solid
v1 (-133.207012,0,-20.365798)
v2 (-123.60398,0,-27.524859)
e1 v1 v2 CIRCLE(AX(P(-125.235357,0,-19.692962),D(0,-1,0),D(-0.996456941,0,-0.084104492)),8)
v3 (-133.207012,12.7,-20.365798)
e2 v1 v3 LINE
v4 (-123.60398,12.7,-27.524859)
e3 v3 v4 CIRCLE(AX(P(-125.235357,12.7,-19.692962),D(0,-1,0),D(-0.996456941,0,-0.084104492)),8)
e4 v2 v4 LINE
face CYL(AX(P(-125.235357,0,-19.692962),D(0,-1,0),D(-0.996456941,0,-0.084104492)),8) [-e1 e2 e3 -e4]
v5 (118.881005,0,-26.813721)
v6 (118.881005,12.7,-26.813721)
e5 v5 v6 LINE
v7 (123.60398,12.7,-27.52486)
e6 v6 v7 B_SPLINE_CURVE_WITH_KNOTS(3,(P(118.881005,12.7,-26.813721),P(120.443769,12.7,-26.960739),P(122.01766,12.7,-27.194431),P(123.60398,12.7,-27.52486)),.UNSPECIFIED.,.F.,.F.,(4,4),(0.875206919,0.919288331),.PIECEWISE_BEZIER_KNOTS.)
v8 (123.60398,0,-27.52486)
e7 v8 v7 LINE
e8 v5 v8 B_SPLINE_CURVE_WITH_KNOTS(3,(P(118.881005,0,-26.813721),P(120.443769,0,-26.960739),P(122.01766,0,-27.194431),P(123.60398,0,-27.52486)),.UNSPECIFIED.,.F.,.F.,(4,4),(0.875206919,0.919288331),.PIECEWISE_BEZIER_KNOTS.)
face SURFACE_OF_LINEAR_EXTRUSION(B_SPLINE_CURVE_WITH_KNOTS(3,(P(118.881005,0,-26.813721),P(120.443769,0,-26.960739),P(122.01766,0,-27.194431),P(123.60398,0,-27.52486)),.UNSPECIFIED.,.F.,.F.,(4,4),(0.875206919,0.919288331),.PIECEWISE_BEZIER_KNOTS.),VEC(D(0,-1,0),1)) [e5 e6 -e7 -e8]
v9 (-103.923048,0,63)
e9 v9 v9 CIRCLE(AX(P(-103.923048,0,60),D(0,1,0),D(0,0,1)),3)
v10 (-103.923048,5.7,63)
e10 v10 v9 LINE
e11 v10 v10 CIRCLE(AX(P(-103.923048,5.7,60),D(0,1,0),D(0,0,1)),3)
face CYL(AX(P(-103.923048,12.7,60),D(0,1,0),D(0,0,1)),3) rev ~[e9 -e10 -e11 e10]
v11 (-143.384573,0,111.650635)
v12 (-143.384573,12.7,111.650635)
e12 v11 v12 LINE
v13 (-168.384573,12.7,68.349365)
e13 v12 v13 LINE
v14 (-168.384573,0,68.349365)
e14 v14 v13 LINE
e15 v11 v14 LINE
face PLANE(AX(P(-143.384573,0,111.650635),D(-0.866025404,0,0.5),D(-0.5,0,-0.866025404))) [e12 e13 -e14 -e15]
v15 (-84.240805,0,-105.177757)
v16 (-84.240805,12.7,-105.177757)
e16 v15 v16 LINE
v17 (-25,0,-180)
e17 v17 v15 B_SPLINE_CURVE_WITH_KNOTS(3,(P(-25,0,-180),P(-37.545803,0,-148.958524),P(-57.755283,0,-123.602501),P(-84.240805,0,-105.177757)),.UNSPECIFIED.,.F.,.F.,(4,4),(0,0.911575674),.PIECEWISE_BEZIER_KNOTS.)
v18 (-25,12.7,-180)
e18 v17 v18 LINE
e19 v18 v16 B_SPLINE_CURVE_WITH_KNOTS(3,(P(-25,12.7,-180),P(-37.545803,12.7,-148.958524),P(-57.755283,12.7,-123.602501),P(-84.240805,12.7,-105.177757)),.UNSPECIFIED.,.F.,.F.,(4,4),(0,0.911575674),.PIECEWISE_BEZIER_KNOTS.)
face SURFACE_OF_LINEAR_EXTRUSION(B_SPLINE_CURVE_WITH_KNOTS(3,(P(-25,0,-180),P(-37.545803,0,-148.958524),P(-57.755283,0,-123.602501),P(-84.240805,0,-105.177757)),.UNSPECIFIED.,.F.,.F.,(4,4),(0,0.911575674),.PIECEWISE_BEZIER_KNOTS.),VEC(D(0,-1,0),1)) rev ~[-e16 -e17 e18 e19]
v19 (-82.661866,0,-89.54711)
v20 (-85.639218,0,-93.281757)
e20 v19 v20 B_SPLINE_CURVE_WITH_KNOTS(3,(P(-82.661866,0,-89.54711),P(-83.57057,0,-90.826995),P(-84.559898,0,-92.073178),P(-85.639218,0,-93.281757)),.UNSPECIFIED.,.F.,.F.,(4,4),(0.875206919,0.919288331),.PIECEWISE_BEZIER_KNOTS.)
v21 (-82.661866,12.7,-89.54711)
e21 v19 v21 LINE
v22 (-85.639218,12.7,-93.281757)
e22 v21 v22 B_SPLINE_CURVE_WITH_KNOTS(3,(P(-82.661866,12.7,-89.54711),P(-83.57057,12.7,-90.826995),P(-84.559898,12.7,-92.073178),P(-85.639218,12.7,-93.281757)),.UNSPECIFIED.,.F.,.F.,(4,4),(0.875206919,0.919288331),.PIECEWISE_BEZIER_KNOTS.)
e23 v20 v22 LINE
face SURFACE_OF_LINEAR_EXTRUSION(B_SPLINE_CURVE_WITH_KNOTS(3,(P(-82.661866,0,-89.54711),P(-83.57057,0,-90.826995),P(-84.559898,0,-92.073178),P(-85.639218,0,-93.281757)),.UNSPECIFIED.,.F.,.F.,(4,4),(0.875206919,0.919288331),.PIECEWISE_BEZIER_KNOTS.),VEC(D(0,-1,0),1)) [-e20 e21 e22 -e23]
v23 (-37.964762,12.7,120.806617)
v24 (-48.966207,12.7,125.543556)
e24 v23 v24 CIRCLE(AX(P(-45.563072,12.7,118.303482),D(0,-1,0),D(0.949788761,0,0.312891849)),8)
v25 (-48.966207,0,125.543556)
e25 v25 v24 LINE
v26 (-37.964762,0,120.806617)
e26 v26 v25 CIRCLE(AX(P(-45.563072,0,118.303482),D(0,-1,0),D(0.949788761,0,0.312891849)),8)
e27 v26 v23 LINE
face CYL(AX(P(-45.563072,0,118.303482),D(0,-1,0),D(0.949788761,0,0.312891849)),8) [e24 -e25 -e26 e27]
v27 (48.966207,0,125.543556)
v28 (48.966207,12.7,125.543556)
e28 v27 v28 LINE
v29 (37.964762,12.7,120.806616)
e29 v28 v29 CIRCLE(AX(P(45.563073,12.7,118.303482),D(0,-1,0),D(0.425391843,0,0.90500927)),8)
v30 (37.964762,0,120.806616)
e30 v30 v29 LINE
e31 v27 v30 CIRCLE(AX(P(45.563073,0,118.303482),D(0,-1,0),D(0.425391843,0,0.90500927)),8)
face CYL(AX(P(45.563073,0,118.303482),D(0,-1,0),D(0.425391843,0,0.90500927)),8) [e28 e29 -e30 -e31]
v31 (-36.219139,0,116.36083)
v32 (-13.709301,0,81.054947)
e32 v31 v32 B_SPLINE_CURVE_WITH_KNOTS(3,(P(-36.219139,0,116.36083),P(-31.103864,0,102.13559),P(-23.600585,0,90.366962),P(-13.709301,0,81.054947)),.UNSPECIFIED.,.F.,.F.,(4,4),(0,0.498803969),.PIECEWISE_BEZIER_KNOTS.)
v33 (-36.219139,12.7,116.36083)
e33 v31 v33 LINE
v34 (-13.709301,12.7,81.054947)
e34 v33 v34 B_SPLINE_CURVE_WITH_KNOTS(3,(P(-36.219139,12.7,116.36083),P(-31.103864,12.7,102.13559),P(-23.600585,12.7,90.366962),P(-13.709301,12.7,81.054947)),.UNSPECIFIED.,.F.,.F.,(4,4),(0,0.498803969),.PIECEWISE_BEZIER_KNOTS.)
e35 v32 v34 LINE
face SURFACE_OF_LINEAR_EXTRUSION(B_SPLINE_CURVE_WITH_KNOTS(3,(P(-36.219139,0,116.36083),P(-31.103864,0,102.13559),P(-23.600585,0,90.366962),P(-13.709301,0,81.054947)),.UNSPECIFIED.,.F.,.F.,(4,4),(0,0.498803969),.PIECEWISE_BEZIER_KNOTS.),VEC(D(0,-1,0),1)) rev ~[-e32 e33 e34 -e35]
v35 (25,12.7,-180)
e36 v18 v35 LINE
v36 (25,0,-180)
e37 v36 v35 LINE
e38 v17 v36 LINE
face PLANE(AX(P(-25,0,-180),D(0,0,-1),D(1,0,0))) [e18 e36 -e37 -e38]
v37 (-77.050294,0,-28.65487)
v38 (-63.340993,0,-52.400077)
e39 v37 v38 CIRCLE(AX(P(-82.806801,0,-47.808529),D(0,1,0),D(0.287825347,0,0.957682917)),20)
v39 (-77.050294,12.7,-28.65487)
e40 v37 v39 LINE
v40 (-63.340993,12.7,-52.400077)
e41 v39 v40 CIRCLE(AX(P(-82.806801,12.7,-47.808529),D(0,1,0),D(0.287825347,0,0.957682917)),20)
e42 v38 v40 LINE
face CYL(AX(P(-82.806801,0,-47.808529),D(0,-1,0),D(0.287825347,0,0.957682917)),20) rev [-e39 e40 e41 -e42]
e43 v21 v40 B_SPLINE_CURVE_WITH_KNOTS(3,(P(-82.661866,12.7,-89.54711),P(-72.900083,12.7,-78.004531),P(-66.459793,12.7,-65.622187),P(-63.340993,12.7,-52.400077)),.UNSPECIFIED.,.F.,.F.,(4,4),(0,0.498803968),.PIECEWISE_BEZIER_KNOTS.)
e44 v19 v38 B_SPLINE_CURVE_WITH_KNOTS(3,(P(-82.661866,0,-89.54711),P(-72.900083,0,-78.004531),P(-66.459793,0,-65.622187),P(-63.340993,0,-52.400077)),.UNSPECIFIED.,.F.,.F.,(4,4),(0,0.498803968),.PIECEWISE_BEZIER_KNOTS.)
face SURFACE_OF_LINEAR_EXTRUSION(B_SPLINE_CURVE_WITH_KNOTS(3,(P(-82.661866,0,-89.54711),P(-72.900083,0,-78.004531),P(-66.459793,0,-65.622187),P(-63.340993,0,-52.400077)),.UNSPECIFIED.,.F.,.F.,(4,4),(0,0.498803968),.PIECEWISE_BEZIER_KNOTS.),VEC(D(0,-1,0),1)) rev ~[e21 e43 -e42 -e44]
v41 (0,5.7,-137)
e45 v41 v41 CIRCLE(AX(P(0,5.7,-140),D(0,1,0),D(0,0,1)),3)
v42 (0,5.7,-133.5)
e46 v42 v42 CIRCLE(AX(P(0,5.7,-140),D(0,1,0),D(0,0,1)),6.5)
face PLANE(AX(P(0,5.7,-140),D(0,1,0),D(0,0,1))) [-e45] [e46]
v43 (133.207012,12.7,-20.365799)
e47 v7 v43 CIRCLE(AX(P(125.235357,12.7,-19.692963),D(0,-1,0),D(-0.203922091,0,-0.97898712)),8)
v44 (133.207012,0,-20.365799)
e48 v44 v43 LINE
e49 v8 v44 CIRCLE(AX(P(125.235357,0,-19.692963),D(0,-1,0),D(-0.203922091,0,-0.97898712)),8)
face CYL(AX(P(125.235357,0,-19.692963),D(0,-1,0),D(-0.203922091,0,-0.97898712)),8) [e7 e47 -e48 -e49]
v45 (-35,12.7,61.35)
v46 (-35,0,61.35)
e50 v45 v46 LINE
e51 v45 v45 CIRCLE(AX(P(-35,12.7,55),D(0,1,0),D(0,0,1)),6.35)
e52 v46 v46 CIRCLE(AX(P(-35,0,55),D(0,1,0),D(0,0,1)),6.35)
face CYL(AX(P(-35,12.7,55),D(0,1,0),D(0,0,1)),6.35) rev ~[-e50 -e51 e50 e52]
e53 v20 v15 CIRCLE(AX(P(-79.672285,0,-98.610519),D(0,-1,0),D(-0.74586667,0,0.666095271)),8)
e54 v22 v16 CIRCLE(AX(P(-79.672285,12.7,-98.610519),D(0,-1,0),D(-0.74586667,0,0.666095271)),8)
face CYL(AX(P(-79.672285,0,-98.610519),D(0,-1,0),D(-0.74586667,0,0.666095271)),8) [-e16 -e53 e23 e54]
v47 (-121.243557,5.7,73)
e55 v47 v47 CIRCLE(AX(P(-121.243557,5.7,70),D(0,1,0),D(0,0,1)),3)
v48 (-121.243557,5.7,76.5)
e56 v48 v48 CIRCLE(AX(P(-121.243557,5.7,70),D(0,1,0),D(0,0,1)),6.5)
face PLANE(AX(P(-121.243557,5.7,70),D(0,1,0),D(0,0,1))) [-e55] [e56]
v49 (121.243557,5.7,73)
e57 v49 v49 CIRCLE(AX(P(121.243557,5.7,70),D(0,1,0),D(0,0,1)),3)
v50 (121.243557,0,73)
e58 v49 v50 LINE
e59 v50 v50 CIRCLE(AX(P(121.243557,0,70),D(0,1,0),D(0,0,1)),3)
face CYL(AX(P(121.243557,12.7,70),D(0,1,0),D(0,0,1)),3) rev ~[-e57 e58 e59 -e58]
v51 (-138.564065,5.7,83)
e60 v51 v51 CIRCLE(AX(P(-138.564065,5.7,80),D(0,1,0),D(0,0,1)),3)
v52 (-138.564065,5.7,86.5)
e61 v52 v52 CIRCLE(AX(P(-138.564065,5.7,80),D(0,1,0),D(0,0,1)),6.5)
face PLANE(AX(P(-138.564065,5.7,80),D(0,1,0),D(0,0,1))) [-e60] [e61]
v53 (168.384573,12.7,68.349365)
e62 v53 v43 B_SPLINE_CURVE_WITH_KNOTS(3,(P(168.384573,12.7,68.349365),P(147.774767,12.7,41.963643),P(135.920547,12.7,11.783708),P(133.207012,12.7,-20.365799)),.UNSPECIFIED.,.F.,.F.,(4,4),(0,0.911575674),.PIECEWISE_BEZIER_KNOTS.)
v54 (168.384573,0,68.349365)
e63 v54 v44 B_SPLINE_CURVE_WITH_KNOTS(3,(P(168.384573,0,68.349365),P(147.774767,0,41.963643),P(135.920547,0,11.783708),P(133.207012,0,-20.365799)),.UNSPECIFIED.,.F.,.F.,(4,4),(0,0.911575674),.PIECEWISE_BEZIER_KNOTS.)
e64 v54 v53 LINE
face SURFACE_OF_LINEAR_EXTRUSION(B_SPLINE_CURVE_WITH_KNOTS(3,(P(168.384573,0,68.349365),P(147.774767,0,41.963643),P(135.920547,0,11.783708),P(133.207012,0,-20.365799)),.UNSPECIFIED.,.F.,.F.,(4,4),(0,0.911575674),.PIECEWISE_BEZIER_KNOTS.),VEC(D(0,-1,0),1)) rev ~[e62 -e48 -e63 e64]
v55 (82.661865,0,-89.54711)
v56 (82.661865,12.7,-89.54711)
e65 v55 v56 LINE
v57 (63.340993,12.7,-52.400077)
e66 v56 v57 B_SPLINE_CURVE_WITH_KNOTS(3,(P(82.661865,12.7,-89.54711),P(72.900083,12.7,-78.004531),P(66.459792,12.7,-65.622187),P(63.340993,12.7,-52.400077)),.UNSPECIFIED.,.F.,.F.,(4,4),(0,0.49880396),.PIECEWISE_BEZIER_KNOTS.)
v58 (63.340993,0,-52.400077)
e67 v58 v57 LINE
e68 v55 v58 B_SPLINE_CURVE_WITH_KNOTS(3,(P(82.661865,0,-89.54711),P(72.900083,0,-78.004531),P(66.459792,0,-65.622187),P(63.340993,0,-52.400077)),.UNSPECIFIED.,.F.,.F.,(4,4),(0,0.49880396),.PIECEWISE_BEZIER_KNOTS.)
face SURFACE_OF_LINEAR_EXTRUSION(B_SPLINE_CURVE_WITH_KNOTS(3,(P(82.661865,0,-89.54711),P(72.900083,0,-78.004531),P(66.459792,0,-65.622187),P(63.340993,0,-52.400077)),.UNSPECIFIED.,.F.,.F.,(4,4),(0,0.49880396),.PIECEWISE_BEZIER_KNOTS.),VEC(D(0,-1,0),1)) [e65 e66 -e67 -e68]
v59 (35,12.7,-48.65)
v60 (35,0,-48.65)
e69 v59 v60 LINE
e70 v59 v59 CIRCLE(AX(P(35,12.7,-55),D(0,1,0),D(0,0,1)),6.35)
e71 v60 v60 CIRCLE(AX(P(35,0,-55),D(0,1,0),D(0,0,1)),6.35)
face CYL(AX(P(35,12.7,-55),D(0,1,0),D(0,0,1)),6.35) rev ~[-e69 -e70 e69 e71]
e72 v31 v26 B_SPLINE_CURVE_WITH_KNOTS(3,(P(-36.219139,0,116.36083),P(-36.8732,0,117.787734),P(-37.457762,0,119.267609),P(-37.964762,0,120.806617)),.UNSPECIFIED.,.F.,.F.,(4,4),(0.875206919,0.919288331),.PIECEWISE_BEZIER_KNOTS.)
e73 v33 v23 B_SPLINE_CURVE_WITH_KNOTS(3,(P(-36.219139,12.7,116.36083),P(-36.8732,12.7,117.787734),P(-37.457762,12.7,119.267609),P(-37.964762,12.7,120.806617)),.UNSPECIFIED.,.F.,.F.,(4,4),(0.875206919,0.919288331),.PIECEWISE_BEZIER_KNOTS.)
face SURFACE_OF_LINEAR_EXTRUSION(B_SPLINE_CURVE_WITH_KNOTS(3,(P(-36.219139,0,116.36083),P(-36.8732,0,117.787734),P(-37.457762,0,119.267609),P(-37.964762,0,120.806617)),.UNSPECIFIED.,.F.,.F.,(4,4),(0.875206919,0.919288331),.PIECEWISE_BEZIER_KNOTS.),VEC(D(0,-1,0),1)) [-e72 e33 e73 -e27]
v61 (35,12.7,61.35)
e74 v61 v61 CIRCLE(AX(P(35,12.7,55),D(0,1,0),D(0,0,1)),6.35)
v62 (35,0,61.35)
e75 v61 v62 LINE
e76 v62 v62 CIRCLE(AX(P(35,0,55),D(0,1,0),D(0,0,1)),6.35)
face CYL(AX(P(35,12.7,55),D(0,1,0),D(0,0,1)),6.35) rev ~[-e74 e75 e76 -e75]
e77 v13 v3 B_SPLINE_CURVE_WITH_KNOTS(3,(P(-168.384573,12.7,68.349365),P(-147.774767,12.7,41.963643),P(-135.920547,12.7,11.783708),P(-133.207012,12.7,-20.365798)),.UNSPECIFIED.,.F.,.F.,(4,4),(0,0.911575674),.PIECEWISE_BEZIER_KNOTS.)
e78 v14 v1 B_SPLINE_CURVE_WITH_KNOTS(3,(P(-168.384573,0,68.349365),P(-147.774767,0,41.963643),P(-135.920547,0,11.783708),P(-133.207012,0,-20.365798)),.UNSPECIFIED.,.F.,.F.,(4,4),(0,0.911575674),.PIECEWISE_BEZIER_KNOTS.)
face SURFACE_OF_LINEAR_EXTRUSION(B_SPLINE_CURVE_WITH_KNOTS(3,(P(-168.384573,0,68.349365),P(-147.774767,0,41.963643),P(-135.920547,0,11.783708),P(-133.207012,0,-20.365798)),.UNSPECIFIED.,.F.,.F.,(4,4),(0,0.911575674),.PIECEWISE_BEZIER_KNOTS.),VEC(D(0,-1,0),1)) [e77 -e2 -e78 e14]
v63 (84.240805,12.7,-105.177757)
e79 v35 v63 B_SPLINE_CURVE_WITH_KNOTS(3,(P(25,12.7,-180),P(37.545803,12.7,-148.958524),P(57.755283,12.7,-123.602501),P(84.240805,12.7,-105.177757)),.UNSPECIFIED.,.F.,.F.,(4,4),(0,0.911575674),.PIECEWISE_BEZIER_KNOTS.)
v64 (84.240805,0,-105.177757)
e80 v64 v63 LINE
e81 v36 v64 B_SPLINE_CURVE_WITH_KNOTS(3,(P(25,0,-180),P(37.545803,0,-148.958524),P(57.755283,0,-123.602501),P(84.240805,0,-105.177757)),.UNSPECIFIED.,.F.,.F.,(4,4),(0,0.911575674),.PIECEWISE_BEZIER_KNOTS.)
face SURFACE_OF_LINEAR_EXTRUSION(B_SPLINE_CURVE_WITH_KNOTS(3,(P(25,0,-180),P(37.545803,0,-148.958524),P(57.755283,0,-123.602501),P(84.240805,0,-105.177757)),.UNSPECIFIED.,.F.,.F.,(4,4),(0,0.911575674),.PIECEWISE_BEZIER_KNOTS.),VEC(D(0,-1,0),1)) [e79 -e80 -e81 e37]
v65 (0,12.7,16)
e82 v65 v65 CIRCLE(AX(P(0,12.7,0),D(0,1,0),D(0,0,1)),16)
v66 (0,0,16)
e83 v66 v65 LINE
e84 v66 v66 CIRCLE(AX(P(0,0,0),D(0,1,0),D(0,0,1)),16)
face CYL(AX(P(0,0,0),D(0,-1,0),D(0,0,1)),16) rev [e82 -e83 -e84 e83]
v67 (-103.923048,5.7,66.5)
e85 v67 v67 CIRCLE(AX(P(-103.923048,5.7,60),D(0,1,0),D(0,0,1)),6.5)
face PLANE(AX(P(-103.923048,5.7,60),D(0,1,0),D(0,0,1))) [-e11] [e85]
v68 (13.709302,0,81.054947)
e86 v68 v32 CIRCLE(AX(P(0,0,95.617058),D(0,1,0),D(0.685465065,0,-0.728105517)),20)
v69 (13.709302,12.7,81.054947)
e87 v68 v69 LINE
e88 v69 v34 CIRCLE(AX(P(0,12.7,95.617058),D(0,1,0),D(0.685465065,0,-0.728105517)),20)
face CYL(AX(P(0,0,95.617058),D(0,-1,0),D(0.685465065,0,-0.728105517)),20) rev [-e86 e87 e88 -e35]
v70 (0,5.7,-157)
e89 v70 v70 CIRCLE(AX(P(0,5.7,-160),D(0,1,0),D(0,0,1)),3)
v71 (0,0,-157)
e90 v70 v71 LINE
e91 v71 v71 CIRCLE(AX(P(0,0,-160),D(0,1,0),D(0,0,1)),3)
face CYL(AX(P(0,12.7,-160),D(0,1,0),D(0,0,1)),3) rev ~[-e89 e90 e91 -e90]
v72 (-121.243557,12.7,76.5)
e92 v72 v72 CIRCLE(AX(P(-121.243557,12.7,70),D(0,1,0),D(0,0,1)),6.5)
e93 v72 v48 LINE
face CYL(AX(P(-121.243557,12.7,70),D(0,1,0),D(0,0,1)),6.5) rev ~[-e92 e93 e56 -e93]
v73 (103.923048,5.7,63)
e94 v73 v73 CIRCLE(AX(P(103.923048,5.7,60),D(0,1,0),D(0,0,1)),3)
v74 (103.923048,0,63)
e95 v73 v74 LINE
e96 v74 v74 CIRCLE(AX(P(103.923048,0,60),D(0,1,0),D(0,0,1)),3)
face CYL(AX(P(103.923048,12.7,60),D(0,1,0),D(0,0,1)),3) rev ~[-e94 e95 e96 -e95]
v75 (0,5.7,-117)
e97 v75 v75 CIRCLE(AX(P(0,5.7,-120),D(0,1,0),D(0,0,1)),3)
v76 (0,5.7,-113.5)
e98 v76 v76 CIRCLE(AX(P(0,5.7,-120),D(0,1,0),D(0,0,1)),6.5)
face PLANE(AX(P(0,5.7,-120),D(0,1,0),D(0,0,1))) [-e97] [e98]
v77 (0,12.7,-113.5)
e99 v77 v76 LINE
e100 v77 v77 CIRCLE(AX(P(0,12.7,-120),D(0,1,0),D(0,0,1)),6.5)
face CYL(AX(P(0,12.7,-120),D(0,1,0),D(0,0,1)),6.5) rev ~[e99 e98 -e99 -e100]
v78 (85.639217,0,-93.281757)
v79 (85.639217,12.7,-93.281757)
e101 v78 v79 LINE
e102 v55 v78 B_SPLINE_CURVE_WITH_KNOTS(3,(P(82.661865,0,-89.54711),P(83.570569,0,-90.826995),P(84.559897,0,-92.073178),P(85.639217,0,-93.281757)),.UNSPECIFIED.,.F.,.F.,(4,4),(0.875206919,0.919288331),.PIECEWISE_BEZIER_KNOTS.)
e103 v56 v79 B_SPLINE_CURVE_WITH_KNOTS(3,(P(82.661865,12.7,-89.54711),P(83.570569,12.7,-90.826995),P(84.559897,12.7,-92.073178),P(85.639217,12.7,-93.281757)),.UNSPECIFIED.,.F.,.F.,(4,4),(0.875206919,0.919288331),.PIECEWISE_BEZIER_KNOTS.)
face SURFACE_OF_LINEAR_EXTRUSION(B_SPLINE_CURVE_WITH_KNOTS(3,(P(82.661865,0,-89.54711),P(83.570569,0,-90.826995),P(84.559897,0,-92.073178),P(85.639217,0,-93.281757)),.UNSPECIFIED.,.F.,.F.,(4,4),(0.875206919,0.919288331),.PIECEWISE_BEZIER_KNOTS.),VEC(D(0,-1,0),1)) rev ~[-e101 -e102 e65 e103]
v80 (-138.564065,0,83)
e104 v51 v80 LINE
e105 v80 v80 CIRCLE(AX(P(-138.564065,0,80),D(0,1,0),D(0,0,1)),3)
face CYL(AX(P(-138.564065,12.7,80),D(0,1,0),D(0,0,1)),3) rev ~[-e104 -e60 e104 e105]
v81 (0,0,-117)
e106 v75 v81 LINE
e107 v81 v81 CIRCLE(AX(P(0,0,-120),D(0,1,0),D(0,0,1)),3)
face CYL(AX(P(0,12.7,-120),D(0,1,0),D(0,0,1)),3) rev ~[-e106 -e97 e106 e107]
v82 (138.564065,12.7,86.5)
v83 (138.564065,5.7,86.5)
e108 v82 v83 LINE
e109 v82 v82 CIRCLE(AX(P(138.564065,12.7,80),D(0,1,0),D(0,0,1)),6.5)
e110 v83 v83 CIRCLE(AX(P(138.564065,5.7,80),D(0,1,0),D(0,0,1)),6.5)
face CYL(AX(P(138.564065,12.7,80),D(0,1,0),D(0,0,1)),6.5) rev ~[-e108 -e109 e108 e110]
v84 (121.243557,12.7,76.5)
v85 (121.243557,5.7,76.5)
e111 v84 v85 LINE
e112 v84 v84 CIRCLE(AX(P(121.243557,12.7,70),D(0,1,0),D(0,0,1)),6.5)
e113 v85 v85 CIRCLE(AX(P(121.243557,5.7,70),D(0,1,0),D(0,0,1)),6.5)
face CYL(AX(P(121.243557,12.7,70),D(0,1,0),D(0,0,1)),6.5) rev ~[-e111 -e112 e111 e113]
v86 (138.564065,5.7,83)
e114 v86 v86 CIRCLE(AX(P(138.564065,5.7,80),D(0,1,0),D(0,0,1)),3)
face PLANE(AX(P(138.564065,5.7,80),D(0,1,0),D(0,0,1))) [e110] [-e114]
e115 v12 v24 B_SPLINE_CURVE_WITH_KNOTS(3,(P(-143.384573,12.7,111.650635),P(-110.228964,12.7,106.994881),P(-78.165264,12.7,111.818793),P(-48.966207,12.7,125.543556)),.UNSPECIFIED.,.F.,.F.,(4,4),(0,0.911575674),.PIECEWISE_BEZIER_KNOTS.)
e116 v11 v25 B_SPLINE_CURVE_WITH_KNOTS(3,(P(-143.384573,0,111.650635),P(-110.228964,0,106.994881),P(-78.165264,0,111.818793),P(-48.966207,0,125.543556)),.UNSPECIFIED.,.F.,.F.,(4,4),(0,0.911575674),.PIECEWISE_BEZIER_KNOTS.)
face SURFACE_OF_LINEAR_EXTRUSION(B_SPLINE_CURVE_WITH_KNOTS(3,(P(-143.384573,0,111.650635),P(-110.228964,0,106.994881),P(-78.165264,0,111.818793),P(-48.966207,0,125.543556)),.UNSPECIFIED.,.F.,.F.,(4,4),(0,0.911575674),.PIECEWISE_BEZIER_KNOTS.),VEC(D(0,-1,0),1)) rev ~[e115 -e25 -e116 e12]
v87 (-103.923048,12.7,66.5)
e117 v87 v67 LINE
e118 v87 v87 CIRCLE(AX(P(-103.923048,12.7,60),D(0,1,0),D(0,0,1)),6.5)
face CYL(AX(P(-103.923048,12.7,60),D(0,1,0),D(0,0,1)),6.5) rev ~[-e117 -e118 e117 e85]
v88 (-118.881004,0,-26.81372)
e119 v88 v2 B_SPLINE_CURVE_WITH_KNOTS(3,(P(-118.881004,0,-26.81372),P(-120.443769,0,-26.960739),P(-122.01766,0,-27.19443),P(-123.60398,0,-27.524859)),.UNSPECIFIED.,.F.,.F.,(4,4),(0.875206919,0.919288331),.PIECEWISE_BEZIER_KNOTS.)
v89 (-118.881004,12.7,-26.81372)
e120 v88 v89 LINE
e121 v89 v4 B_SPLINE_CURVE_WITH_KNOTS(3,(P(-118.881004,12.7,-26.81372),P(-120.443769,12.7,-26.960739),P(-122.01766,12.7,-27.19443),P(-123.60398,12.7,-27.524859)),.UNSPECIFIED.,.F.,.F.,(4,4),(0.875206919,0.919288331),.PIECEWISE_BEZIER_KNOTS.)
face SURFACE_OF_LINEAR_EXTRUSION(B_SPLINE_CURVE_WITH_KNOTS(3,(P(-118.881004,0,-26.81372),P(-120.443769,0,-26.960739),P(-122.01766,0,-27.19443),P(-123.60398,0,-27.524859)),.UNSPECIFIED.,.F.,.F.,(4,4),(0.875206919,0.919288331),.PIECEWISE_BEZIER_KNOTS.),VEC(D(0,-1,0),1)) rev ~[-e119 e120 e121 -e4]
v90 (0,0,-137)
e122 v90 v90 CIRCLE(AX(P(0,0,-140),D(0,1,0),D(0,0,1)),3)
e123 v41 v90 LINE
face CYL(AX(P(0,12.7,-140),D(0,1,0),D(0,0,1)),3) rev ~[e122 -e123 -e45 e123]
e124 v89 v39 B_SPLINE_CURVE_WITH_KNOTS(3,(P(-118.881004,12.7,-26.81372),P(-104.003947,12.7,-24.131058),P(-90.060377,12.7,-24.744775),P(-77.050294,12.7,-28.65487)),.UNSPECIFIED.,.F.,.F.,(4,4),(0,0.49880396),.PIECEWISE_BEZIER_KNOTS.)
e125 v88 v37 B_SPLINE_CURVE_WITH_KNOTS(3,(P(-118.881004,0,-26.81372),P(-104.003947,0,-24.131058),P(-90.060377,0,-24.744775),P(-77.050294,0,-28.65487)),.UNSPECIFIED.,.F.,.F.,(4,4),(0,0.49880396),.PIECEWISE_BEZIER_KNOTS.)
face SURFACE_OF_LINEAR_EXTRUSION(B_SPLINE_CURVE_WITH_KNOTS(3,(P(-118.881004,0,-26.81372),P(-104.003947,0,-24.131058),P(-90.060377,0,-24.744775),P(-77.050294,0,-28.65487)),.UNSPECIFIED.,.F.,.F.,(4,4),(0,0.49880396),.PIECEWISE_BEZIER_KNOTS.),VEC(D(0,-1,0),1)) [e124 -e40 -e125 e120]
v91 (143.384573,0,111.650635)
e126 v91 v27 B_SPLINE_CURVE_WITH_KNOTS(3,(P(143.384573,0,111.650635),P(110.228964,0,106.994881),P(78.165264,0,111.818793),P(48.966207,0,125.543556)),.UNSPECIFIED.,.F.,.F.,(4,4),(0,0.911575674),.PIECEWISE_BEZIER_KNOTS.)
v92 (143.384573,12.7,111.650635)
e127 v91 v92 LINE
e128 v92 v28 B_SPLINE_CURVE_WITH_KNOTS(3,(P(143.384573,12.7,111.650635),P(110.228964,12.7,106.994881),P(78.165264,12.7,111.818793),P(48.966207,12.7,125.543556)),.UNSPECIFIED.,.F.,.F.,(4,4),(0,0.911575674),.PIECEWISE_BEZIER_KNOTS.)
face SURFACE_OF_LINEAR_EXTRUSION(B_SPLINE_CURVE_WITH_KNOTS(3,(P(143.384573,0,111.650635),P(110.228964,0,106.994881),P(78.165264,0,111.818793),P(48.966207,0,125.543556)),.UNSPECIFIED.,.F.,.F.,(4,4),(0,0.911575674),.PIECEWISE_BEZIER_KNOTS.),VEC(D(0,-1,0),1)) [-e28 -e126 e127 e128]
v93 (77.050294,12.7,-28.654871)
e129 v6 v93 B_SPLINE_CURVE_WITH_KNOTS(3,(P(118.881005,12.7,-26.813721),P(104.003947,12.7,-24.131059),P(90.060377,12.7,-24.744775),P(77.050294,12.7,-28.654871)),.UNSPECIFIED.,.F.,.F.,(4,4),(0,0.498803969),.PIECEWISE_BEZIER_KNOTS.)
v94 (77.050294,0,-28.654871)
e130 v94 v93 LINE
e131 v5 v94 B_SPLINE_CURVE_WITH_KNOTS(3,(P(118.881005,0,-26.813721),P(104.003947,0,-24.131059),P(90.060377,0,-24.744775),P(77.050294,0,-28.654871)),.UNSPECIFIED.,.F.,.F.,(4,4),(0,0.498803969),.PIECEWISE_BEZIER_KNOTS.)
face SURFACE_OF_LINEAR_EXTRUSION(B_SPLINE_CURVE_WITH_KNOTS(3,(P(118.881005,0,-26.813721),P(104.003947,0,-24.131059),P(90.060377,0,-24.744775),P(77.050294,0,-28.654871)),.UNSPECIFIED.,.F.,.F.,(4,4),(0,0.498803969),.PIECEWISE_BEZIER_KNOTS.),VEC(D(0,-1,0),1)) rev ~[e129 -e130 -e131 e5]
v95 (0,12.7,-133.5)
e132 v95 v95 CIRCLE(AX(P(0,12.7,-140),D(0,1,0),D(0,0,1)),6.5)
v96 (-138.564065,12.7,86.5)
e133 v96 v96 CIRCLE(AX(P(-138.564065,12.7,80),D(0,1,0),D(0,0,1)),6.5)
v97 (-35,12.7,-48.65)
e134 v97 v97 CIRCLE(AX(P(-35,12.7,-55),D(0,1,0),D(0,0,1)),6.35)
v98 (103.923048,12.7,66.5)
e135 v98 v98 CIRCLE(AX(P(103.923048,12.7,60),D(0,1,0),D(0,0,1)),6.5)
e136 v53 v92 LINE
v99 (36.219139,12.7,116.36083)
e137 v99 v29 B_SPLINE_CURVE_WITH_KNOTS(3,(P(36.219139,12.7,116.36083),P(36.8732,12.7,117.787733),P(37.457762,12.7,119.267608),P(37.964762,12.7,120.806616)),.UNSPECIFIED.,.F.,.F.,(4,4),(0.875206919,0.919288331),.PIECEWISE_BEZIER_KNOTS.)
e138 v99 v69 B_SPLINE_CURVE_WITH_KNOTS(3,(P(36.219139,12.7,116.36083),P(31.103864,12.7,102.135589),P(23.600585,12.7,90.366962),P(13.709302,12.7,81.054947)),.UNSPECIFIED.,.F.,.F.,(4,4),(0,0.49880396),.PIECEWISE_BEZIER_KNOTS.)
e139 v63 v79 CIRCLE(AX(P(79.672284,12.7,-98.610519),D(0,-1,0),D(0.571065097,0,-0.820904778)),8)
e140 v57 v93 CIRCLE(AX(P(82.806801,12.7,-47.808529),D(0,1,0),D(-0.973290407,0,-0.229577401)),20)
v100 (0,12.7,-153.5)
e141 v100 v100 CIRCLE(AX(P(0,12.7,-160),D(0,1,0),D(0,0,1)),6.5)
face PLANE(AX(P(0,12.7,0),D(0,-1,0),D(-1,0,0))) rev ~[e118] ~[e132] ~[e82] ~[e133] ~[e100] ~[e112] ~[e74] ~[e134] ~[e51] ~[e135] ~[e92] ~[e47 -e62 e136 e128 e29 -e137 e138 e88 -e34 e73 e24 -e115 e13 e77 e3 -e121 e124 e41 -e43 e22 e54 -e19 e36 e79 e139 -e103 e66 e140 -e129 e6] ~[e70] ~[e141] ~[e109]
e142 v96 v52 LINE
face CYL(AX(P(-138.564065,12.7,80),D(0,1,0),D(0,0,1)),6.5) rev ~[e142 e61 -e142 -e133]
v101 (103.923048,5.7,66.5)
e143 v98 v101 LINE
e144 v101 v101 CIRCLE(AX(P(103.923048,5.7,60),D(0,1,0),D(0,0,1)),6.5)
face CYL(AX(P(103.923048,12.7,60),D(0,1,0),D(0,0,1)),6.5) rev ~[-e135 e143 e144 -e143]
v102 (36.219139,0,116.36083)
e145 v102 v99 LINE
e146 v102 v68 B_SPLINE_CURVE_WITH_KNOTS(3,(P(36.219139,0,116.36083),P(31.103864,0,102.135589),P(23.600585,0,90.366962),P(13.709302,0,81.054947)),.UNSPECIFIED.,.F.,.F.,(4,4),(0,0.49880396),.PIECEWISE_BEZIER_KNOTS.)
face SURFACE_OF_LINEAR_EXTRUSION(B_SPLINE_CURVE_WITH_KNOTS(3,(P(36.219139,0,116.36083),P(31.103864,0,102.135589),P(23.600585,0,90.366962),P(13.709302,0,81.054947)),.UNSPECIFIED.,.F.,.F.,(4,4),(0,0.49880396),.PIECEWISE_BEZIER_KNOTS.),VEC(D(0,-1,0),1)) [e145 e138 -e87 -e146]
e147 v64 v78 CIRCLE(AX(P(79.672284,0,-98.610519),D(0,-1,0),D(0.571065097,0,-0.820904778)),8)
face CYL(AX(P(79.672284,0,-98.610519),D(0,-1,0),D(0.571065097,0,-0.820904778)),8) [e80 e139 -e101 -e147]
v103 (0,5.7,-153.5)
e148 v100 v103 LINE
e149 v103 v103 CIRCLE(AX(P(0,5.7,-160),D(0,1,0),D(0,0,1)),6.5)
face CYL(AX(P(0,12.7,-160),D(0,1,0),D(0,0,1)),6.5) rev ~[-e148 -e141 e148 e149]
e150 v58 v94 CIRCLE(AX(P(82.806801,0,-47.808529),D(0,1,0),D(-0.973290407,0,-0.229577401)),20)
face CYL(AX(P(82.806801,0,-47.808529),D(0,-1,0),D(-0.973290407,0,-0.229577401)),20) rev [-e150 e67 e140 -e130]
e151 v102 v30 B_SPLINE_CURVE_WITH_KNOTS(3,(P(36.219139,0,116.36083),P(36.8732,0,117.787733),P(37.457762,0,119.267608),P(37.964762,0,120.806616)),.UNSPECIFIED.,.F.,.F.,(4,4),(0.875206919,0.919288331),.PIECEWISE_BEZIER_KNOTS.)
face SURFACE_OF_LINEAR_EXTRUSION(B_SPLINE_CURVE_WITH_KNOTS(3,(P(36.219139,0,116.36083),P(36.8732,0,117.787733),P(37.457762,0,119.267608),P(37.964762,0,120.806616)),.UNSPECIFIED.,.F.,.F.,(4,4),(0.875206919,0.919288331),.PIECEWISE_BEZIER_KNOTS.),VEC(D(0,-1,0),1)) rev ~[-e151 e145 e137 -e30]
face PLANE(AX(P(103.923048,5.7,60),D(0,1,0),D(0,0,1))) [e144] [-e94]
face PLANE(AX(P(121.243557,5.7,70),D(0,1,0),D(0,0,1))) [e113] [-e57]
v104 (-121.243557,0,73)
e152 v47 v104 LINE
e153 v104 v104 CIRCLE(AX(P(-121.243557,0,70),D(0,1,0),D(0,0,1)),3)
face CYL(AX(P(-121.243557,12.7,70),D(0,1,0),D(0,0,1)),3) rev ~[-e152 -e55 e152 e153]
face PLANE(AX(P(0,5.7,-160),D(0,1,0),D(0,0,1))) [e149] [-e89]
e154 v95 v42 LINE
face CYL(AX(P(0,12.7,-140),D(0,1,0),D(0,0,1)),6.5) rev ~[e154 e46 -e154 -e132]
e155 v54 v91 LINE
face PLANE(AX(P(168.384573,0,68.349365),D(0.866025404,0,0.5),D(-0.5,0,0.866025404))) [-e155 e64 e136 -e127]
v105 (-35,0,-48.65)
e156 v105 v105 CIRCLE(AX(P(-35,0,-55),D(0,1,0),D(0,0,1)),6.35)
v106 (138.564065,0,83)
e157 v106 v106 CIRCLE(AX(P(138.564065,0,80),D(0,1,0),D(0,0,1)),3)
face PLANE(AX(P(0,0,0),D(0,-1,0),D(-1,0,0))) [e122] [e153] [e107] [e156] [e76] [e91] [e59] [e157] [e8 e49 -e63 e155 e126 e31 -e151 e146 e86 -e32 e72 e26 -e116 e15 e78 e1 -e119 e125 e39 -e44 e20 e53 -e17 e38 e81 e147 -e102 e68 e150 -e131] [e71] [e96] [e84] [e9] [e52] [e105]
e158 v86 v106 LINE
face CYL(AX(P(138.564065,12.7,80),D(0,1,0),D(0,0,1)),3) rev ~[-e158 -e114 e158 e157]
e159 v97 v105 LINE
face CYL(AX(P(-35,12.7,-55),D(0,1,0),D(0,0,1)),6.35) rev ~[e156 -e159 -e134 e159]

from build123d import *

# Parameters (mm, degrees)
CROQUIS2_R            = 16
DELTA_BASE_DEPTH      = 12.7
CROQUIS3_R            = 3
CORTAR_EXTRUIR2_DEPTH = 30
CROQUIS5_R            = 6.5
CORTAR_EXTRUIR3_DEPTH = 7
CROQUIS6_R            = 6.35
CORTAR_EXTRUIR4_DEPTH = 38


with BuildPart() as part:
    # Croquis2 → Delta Base (new body)
    with BuildSketch(Plane(origin=(0, 0, 0), x_dir=(1, 0, 0), z_dir=(0, 1, 0))):
        with BuildLine():
            Line((168.384572854, -68.349364766), (143.384572854, -111.650634955))
            add(Edge.make_bspline(
                [(143.384572854, -111.650634955), (110.228964472, -106.994880788), (78.165264136, -111.818792753), (48.966207304, -125.543555732)],
                knots=[0, 0, 0, 0, 0.911575674, 0.911575674, 0.911575674, 0.911575674], degree=3))
            ThreePointArc((48.966207304, -125.543555732), (42.399289585, -125.651302831), (37.964762468, -120.806616359))
            add(Edge.make_bspline(
                [(36.219139152, -116.360829974), (36.873200125, -117.787733164), (37.457762294, -119.267608258), (37.964762468, -120.806616359)],
                knots=[0.875206919, 0.875206919, 0.875206919, 0.875206919, 0.919288331, 0.919288331, 0.919288331, 0.919288331], degree=3))
            add(Edge.make_bspline(
                [(36.219139152, -116.360829974), (31.103863708, -102.135589346), (23.600584995, -90.366962092), (13.709301605, -81.054947485)],
                knots=[0, 0, 0, 0, 0.49880396, 0.49880396, 0.49880396, 0.49880396], degree=3))
            ThreePointArc((13.709301605, -81.054947485), (4.34e-07, -75.617057833), (-13.709300808, -81.054947304))
            add(Edge.make_bspline(
                [(-36.219138946, -116.360830332), (-31.103863897, -102.135589743), (-23.600584693, -90.366962129), (-13.709300808, -81.054947304)],
                knots=[0, 0, 0, 0, 0.498803969, 0.498803969, 0.498803969, 0.498803969], degree=3))
            add(Edge.make_bspline(
                [(-36.219138946, -116.360830332), (-36.873199918, -117.787733522), (-37.457762087, -119.267608616), (-37.964762261, -120.806616717)],
                knots=[0.875206919, 0.875206919, 0.875206919, 0.875206919, 0.919288331, 0.919288331, 0.919288331, 0.919288331], degree=3))
            ThreePointArc((-37.964762261, -120.806616717), (-42.399289378, -125.651303189), (-48.966207097, -125.543556091))
            add(Edge.make_bspline(
                [(-143.384572647, -111.650635314), (-110.228964266, -106.994881146), (-78.165263929, -111.818793111), (-48.966207097, -125.543556091)],
                knots=[0, 0, 0, 0, 0.911575674, 0.911575674, 0.911575674, 0.911575674], degree=3))
            Line((-143.384572647, -111.650635314), (-168.384572647, -68.349365124))
            add(Edge.make_bspline(
                [(-168.384572647, -68.349365124), (-147.774767073, -41.963643072), (-135.920547212, -11.783708059), (-133.207012198, 20.365798414)],
                knots=[0, 0, 0, 0, 0.911575674, 0.911575674, 0.911575674, 0.911575674], degree=3))
            ThreePointArc((-133.207012198, 20.365798414), (-130.016865062, 26.106789533), (-123.603979946, 27.524859434))
            add(Edge.make_bspline(
                [(-118.881004339, 26.813720378), (-120.443769236, 26.960738555), (-122.017659747, 27.194430413), (-123.603979946, 27.524859434)],
                knots=[0.875206919, 0.875206919, 0.875206919, 0.875206919, 0.919288331, 0.919288331, 0.919288331, 0.919288331], degree=3))
            add(Edge.make_bspline(
                [(-118.881004339, 26.813720378), (-104.003947343, 24.131058268), (-90.060377482, 24.744774797), (-77.05029433, 28.654870325)],
                knots=[0, 0, 0, 0, 0.49880396, 0.49880396, 0.49880396, 0.49880396], degree=3))
            ThreePointArc((-77.05029433, 28.654870325), (-65.486293205, 37.808528635), (-63.340993077, 52.400076525))
            add(Edge.make_bspline(
                [(-82.6618656, 89.547109596), (-72.900083398, 78.004530603), (-66.459792532, 65.622186774), (-63.340993077, 52.400076525)],
                knots=[0, 0, 0, 0, 0.498803968, 0.498803968, 0.498803968, 0.498803968], degree=3))
            add(Edge.make_bspline(
                [(-82.6618656, 89.547109596), (-83.570569526, 90.826994609), (-84.559897867, 92.073177844), (-85.639217892, 93.281756925)],
                knots=[0.875206919, 0.875206919, 0.875206919, 0.875206919, 0.919288331, 0.919288331, 0.919288331, 0.919288331], degree=3))
            ThreePointArc((-85.639217892, 93.281756925), (-87.617575891, 99.544513298), (-84.240805308, 105.177757318))
            add(Edge.make_bspline(
                [(-25.000000207, 180.00000008), (-37.545803015, 148.95852386), (-57.75528349, 123.602500812), (-84.240805308, 105.177757318)],
                knots=[0, 0, 0, 0, 0.911575674, 0.911575674, 0.911575674, 0.911575674], degree=3))
            Line((-25.000000207, 180.00000008), (24.999999793, 180.00000008))
            add(Edge.make_bspline(
                [(24.999999793, 180.00000008), (37.545802601, 148.95852386), (57.755283076, 123.602500812), (84.240804894, 105.177757318)],
                knots=[0, 0, 0, 0, 0.911575674, 0.911575674, 0.911575674, 0.911575674], degree=3))
            ThreePointArc((84.240804894, 105.177757318), (87.617575478, 99.544513298), (85.639217478, 93.281756925))
            add(Edge.make_bspline(
                [(82.661865187, 89.547109596), (83.570569112, 90.826994609), (84.559897453, 92.073177844), (85.639217478, 93.281756925)],
                knots=[0.875206919, 0.875206919, 0.875206919, 0.875206919, 0.919288331, 0.919288331, 0.919288331, 0.919288331], degree=3))
            add(Edge.make_bspline(
                [(82.661865187, 89.547109596), (72.90008315, 78.0045308), (66.459792337, 65.622187196), (63.340992822, 52.400077201)],
                knots=[0, 0, 0, 0, 0.49880396, 0.49880396, 0.49880396, 0.49880396], degree=3))
            ThreePointArc((63.340992822, 52.400077201), (65.486292826, 37.808529293), (77.050293872, 28.654870884))
            add(Edge.make_bspline(
                [(118.881004546, 26.813720736), (104.003947297, 24.131058581), (90.060377214, 24.744775176), (77.050293872, 28.654870884)],
                knots=[0, 0, 0, 0, 0.498803969, 0.498803969, 0.498803969, 0.498803969], degree=3))
            add(Edge.make_bspline(
                [(118.881004546, 26.813720736), (120.443769443, 26.960738913), (122.017659954, 27.194430772), (123.603980153, 27.524859792)],
                knots=[0.875206919, 0.875206919, 0.875206919, 0.875206919, 0.919288331, 0.919288331, 0.919288331, 0.919288331], degree=3))
            ThreePointArc((123.603980153, 27.524859792), (130.016865269, 26.106789891), (133.207012404, 20.365798772))
            add(Edge.make_bspline(
                [(168.384572854, -68.349364766), (147.77476728, -41.963642714), (135.920547419, -11.783707701), (133.207012404, 20.365798772)],
                knots=[0, 0, 0, 0, 0.911575674, 0.911575674, 0.911575674, 0.911575674], degree=3))
        make_face()
        with Locations(Location((-2.07e-07, 8e-08, 0), (0, 0, 270))):
            Circle(CROQUIS2_R, mode=Mode.SUBTRACT)
    extrude(amount=DELTA_BASE_DEPTH)

    # Croquis3 → Cortar-Extruir2 (cut)
    with BuildSketch(Plane(origin=(0, 12.7, 0), x_dir=(1, 0, 0), z_dir=(0, 1, 0))):
        with Locations(Location((0, 120, 0), (0, 0, 270))):
            Circle(CROQUIS3_R)
        with Locations(Location((0, 140, 0), (0, 0, 270))):
            Circle(CROQUIS3_R)
        with Locations(Location((0, 160, 0), (0, 0, 270))):
            Circle(CROQUIS3_R)
        with Locations(Location((103.923048454, -60, 0), (0, 0, 270))):
            Circle(CROQUIS3_R)
        with Locations(Location((121.24355653, -70, 0), (0, 0, 270))):
            Circle(CROQUIS3_R)
        with Locations(Location((138.564064606, -80, 0), (0, 0, 270))):
            Circle(CROQUIS3_R)
        with Locations(Location((-103.923048454, -60, 0), (0, 0, 270))):
            Circle(CROQUIS3_R)
        with Locations(Location((-121.24355653, -70, 0), (0, 0, 270))):
            Circle(CROQUIS3_R)
        with Locations(Location((-138.564064605, -80, 0), (0, 0, 270))):
            Circle(CROQUIS3_R)
    extrude(amount=-CORTAR_EXTRUIR2_DEPTH, mode=Mode.SUBTRACT)

    # Croquis5 → Cortar-Extruir3 (cut)
    with BuildSketch(Plane(origin=(0, 12.7, 0), x_dir=(1, 0, 0), z_dir=(0, 1, 0))):
        with Locations(Location((0, 160, 0), (0, 0, 270))):
            Circle(CROQUIS5_R)
        with Locations(Location((0, 140, 0), (0, 0, 270))):
            Circle(CROQUIS5_R)
        with Locations(Location((0, 120, 0), (0, 0, 270))):
            Circle(CROQUIS5_R)
        with Locations(Location((138.564064606, -80, 0), (0, 0, 270))):
            Circle(CROQUIS5_R)
        with Locations(Location((121.24355653, -70, 0), (0, 0, 270))):
            Circle(CROQUIS5_R)
        with Locations(Location((103.923048454, -60, 0), (0, 0, 270))):
            Circle(CROQUIS5_R)
        with Locations(Location((-138.564064606, -80, 0), (0, 0, 270))):
            Circle(CROQUIS5_R)
        with Locations(Location((-121.24355653, -70, 0), (0, 0, 270))):
            Circle(CROQUIS5_R)
        with Locations(Location((-103.923048454, -60, 0), (0, 0, 270))):
            Circle(CROQUIS5_R)
    extrude(amount=-CORTAR_EXTRUIR3_DEPTH, mode=Mode.SUBTRACT)

    # Croquis6 → Cortar-Extruir4 (cut)
    with BuildSketch(Plane(origin=(0, 12.7, 0), x_dir=(1, 0, 0), z_dir=(0, 1, 0))):
        with Locations(Location((-35, 55, 0), (0, 0, 270))):
            Circle(CROQUIS6_R)
        with Locations(Location((35, 55.00000008, 0), (0, 0, 270))):
            Circle(CROQUIS6_R)
        with Locations(Location((-35, -55, 0), (0, 0, 270))):
            Circle(CROQUIS6_R)
        with Locations(Location((35, -55, 0), (0, 0, 270))):
            Circle(CROQUIS6_R)
    extrude(amount=-CORTAR_EXTRUIR4_DEPTH, mode=Mode.SUBTRACT)


solid = part.part
